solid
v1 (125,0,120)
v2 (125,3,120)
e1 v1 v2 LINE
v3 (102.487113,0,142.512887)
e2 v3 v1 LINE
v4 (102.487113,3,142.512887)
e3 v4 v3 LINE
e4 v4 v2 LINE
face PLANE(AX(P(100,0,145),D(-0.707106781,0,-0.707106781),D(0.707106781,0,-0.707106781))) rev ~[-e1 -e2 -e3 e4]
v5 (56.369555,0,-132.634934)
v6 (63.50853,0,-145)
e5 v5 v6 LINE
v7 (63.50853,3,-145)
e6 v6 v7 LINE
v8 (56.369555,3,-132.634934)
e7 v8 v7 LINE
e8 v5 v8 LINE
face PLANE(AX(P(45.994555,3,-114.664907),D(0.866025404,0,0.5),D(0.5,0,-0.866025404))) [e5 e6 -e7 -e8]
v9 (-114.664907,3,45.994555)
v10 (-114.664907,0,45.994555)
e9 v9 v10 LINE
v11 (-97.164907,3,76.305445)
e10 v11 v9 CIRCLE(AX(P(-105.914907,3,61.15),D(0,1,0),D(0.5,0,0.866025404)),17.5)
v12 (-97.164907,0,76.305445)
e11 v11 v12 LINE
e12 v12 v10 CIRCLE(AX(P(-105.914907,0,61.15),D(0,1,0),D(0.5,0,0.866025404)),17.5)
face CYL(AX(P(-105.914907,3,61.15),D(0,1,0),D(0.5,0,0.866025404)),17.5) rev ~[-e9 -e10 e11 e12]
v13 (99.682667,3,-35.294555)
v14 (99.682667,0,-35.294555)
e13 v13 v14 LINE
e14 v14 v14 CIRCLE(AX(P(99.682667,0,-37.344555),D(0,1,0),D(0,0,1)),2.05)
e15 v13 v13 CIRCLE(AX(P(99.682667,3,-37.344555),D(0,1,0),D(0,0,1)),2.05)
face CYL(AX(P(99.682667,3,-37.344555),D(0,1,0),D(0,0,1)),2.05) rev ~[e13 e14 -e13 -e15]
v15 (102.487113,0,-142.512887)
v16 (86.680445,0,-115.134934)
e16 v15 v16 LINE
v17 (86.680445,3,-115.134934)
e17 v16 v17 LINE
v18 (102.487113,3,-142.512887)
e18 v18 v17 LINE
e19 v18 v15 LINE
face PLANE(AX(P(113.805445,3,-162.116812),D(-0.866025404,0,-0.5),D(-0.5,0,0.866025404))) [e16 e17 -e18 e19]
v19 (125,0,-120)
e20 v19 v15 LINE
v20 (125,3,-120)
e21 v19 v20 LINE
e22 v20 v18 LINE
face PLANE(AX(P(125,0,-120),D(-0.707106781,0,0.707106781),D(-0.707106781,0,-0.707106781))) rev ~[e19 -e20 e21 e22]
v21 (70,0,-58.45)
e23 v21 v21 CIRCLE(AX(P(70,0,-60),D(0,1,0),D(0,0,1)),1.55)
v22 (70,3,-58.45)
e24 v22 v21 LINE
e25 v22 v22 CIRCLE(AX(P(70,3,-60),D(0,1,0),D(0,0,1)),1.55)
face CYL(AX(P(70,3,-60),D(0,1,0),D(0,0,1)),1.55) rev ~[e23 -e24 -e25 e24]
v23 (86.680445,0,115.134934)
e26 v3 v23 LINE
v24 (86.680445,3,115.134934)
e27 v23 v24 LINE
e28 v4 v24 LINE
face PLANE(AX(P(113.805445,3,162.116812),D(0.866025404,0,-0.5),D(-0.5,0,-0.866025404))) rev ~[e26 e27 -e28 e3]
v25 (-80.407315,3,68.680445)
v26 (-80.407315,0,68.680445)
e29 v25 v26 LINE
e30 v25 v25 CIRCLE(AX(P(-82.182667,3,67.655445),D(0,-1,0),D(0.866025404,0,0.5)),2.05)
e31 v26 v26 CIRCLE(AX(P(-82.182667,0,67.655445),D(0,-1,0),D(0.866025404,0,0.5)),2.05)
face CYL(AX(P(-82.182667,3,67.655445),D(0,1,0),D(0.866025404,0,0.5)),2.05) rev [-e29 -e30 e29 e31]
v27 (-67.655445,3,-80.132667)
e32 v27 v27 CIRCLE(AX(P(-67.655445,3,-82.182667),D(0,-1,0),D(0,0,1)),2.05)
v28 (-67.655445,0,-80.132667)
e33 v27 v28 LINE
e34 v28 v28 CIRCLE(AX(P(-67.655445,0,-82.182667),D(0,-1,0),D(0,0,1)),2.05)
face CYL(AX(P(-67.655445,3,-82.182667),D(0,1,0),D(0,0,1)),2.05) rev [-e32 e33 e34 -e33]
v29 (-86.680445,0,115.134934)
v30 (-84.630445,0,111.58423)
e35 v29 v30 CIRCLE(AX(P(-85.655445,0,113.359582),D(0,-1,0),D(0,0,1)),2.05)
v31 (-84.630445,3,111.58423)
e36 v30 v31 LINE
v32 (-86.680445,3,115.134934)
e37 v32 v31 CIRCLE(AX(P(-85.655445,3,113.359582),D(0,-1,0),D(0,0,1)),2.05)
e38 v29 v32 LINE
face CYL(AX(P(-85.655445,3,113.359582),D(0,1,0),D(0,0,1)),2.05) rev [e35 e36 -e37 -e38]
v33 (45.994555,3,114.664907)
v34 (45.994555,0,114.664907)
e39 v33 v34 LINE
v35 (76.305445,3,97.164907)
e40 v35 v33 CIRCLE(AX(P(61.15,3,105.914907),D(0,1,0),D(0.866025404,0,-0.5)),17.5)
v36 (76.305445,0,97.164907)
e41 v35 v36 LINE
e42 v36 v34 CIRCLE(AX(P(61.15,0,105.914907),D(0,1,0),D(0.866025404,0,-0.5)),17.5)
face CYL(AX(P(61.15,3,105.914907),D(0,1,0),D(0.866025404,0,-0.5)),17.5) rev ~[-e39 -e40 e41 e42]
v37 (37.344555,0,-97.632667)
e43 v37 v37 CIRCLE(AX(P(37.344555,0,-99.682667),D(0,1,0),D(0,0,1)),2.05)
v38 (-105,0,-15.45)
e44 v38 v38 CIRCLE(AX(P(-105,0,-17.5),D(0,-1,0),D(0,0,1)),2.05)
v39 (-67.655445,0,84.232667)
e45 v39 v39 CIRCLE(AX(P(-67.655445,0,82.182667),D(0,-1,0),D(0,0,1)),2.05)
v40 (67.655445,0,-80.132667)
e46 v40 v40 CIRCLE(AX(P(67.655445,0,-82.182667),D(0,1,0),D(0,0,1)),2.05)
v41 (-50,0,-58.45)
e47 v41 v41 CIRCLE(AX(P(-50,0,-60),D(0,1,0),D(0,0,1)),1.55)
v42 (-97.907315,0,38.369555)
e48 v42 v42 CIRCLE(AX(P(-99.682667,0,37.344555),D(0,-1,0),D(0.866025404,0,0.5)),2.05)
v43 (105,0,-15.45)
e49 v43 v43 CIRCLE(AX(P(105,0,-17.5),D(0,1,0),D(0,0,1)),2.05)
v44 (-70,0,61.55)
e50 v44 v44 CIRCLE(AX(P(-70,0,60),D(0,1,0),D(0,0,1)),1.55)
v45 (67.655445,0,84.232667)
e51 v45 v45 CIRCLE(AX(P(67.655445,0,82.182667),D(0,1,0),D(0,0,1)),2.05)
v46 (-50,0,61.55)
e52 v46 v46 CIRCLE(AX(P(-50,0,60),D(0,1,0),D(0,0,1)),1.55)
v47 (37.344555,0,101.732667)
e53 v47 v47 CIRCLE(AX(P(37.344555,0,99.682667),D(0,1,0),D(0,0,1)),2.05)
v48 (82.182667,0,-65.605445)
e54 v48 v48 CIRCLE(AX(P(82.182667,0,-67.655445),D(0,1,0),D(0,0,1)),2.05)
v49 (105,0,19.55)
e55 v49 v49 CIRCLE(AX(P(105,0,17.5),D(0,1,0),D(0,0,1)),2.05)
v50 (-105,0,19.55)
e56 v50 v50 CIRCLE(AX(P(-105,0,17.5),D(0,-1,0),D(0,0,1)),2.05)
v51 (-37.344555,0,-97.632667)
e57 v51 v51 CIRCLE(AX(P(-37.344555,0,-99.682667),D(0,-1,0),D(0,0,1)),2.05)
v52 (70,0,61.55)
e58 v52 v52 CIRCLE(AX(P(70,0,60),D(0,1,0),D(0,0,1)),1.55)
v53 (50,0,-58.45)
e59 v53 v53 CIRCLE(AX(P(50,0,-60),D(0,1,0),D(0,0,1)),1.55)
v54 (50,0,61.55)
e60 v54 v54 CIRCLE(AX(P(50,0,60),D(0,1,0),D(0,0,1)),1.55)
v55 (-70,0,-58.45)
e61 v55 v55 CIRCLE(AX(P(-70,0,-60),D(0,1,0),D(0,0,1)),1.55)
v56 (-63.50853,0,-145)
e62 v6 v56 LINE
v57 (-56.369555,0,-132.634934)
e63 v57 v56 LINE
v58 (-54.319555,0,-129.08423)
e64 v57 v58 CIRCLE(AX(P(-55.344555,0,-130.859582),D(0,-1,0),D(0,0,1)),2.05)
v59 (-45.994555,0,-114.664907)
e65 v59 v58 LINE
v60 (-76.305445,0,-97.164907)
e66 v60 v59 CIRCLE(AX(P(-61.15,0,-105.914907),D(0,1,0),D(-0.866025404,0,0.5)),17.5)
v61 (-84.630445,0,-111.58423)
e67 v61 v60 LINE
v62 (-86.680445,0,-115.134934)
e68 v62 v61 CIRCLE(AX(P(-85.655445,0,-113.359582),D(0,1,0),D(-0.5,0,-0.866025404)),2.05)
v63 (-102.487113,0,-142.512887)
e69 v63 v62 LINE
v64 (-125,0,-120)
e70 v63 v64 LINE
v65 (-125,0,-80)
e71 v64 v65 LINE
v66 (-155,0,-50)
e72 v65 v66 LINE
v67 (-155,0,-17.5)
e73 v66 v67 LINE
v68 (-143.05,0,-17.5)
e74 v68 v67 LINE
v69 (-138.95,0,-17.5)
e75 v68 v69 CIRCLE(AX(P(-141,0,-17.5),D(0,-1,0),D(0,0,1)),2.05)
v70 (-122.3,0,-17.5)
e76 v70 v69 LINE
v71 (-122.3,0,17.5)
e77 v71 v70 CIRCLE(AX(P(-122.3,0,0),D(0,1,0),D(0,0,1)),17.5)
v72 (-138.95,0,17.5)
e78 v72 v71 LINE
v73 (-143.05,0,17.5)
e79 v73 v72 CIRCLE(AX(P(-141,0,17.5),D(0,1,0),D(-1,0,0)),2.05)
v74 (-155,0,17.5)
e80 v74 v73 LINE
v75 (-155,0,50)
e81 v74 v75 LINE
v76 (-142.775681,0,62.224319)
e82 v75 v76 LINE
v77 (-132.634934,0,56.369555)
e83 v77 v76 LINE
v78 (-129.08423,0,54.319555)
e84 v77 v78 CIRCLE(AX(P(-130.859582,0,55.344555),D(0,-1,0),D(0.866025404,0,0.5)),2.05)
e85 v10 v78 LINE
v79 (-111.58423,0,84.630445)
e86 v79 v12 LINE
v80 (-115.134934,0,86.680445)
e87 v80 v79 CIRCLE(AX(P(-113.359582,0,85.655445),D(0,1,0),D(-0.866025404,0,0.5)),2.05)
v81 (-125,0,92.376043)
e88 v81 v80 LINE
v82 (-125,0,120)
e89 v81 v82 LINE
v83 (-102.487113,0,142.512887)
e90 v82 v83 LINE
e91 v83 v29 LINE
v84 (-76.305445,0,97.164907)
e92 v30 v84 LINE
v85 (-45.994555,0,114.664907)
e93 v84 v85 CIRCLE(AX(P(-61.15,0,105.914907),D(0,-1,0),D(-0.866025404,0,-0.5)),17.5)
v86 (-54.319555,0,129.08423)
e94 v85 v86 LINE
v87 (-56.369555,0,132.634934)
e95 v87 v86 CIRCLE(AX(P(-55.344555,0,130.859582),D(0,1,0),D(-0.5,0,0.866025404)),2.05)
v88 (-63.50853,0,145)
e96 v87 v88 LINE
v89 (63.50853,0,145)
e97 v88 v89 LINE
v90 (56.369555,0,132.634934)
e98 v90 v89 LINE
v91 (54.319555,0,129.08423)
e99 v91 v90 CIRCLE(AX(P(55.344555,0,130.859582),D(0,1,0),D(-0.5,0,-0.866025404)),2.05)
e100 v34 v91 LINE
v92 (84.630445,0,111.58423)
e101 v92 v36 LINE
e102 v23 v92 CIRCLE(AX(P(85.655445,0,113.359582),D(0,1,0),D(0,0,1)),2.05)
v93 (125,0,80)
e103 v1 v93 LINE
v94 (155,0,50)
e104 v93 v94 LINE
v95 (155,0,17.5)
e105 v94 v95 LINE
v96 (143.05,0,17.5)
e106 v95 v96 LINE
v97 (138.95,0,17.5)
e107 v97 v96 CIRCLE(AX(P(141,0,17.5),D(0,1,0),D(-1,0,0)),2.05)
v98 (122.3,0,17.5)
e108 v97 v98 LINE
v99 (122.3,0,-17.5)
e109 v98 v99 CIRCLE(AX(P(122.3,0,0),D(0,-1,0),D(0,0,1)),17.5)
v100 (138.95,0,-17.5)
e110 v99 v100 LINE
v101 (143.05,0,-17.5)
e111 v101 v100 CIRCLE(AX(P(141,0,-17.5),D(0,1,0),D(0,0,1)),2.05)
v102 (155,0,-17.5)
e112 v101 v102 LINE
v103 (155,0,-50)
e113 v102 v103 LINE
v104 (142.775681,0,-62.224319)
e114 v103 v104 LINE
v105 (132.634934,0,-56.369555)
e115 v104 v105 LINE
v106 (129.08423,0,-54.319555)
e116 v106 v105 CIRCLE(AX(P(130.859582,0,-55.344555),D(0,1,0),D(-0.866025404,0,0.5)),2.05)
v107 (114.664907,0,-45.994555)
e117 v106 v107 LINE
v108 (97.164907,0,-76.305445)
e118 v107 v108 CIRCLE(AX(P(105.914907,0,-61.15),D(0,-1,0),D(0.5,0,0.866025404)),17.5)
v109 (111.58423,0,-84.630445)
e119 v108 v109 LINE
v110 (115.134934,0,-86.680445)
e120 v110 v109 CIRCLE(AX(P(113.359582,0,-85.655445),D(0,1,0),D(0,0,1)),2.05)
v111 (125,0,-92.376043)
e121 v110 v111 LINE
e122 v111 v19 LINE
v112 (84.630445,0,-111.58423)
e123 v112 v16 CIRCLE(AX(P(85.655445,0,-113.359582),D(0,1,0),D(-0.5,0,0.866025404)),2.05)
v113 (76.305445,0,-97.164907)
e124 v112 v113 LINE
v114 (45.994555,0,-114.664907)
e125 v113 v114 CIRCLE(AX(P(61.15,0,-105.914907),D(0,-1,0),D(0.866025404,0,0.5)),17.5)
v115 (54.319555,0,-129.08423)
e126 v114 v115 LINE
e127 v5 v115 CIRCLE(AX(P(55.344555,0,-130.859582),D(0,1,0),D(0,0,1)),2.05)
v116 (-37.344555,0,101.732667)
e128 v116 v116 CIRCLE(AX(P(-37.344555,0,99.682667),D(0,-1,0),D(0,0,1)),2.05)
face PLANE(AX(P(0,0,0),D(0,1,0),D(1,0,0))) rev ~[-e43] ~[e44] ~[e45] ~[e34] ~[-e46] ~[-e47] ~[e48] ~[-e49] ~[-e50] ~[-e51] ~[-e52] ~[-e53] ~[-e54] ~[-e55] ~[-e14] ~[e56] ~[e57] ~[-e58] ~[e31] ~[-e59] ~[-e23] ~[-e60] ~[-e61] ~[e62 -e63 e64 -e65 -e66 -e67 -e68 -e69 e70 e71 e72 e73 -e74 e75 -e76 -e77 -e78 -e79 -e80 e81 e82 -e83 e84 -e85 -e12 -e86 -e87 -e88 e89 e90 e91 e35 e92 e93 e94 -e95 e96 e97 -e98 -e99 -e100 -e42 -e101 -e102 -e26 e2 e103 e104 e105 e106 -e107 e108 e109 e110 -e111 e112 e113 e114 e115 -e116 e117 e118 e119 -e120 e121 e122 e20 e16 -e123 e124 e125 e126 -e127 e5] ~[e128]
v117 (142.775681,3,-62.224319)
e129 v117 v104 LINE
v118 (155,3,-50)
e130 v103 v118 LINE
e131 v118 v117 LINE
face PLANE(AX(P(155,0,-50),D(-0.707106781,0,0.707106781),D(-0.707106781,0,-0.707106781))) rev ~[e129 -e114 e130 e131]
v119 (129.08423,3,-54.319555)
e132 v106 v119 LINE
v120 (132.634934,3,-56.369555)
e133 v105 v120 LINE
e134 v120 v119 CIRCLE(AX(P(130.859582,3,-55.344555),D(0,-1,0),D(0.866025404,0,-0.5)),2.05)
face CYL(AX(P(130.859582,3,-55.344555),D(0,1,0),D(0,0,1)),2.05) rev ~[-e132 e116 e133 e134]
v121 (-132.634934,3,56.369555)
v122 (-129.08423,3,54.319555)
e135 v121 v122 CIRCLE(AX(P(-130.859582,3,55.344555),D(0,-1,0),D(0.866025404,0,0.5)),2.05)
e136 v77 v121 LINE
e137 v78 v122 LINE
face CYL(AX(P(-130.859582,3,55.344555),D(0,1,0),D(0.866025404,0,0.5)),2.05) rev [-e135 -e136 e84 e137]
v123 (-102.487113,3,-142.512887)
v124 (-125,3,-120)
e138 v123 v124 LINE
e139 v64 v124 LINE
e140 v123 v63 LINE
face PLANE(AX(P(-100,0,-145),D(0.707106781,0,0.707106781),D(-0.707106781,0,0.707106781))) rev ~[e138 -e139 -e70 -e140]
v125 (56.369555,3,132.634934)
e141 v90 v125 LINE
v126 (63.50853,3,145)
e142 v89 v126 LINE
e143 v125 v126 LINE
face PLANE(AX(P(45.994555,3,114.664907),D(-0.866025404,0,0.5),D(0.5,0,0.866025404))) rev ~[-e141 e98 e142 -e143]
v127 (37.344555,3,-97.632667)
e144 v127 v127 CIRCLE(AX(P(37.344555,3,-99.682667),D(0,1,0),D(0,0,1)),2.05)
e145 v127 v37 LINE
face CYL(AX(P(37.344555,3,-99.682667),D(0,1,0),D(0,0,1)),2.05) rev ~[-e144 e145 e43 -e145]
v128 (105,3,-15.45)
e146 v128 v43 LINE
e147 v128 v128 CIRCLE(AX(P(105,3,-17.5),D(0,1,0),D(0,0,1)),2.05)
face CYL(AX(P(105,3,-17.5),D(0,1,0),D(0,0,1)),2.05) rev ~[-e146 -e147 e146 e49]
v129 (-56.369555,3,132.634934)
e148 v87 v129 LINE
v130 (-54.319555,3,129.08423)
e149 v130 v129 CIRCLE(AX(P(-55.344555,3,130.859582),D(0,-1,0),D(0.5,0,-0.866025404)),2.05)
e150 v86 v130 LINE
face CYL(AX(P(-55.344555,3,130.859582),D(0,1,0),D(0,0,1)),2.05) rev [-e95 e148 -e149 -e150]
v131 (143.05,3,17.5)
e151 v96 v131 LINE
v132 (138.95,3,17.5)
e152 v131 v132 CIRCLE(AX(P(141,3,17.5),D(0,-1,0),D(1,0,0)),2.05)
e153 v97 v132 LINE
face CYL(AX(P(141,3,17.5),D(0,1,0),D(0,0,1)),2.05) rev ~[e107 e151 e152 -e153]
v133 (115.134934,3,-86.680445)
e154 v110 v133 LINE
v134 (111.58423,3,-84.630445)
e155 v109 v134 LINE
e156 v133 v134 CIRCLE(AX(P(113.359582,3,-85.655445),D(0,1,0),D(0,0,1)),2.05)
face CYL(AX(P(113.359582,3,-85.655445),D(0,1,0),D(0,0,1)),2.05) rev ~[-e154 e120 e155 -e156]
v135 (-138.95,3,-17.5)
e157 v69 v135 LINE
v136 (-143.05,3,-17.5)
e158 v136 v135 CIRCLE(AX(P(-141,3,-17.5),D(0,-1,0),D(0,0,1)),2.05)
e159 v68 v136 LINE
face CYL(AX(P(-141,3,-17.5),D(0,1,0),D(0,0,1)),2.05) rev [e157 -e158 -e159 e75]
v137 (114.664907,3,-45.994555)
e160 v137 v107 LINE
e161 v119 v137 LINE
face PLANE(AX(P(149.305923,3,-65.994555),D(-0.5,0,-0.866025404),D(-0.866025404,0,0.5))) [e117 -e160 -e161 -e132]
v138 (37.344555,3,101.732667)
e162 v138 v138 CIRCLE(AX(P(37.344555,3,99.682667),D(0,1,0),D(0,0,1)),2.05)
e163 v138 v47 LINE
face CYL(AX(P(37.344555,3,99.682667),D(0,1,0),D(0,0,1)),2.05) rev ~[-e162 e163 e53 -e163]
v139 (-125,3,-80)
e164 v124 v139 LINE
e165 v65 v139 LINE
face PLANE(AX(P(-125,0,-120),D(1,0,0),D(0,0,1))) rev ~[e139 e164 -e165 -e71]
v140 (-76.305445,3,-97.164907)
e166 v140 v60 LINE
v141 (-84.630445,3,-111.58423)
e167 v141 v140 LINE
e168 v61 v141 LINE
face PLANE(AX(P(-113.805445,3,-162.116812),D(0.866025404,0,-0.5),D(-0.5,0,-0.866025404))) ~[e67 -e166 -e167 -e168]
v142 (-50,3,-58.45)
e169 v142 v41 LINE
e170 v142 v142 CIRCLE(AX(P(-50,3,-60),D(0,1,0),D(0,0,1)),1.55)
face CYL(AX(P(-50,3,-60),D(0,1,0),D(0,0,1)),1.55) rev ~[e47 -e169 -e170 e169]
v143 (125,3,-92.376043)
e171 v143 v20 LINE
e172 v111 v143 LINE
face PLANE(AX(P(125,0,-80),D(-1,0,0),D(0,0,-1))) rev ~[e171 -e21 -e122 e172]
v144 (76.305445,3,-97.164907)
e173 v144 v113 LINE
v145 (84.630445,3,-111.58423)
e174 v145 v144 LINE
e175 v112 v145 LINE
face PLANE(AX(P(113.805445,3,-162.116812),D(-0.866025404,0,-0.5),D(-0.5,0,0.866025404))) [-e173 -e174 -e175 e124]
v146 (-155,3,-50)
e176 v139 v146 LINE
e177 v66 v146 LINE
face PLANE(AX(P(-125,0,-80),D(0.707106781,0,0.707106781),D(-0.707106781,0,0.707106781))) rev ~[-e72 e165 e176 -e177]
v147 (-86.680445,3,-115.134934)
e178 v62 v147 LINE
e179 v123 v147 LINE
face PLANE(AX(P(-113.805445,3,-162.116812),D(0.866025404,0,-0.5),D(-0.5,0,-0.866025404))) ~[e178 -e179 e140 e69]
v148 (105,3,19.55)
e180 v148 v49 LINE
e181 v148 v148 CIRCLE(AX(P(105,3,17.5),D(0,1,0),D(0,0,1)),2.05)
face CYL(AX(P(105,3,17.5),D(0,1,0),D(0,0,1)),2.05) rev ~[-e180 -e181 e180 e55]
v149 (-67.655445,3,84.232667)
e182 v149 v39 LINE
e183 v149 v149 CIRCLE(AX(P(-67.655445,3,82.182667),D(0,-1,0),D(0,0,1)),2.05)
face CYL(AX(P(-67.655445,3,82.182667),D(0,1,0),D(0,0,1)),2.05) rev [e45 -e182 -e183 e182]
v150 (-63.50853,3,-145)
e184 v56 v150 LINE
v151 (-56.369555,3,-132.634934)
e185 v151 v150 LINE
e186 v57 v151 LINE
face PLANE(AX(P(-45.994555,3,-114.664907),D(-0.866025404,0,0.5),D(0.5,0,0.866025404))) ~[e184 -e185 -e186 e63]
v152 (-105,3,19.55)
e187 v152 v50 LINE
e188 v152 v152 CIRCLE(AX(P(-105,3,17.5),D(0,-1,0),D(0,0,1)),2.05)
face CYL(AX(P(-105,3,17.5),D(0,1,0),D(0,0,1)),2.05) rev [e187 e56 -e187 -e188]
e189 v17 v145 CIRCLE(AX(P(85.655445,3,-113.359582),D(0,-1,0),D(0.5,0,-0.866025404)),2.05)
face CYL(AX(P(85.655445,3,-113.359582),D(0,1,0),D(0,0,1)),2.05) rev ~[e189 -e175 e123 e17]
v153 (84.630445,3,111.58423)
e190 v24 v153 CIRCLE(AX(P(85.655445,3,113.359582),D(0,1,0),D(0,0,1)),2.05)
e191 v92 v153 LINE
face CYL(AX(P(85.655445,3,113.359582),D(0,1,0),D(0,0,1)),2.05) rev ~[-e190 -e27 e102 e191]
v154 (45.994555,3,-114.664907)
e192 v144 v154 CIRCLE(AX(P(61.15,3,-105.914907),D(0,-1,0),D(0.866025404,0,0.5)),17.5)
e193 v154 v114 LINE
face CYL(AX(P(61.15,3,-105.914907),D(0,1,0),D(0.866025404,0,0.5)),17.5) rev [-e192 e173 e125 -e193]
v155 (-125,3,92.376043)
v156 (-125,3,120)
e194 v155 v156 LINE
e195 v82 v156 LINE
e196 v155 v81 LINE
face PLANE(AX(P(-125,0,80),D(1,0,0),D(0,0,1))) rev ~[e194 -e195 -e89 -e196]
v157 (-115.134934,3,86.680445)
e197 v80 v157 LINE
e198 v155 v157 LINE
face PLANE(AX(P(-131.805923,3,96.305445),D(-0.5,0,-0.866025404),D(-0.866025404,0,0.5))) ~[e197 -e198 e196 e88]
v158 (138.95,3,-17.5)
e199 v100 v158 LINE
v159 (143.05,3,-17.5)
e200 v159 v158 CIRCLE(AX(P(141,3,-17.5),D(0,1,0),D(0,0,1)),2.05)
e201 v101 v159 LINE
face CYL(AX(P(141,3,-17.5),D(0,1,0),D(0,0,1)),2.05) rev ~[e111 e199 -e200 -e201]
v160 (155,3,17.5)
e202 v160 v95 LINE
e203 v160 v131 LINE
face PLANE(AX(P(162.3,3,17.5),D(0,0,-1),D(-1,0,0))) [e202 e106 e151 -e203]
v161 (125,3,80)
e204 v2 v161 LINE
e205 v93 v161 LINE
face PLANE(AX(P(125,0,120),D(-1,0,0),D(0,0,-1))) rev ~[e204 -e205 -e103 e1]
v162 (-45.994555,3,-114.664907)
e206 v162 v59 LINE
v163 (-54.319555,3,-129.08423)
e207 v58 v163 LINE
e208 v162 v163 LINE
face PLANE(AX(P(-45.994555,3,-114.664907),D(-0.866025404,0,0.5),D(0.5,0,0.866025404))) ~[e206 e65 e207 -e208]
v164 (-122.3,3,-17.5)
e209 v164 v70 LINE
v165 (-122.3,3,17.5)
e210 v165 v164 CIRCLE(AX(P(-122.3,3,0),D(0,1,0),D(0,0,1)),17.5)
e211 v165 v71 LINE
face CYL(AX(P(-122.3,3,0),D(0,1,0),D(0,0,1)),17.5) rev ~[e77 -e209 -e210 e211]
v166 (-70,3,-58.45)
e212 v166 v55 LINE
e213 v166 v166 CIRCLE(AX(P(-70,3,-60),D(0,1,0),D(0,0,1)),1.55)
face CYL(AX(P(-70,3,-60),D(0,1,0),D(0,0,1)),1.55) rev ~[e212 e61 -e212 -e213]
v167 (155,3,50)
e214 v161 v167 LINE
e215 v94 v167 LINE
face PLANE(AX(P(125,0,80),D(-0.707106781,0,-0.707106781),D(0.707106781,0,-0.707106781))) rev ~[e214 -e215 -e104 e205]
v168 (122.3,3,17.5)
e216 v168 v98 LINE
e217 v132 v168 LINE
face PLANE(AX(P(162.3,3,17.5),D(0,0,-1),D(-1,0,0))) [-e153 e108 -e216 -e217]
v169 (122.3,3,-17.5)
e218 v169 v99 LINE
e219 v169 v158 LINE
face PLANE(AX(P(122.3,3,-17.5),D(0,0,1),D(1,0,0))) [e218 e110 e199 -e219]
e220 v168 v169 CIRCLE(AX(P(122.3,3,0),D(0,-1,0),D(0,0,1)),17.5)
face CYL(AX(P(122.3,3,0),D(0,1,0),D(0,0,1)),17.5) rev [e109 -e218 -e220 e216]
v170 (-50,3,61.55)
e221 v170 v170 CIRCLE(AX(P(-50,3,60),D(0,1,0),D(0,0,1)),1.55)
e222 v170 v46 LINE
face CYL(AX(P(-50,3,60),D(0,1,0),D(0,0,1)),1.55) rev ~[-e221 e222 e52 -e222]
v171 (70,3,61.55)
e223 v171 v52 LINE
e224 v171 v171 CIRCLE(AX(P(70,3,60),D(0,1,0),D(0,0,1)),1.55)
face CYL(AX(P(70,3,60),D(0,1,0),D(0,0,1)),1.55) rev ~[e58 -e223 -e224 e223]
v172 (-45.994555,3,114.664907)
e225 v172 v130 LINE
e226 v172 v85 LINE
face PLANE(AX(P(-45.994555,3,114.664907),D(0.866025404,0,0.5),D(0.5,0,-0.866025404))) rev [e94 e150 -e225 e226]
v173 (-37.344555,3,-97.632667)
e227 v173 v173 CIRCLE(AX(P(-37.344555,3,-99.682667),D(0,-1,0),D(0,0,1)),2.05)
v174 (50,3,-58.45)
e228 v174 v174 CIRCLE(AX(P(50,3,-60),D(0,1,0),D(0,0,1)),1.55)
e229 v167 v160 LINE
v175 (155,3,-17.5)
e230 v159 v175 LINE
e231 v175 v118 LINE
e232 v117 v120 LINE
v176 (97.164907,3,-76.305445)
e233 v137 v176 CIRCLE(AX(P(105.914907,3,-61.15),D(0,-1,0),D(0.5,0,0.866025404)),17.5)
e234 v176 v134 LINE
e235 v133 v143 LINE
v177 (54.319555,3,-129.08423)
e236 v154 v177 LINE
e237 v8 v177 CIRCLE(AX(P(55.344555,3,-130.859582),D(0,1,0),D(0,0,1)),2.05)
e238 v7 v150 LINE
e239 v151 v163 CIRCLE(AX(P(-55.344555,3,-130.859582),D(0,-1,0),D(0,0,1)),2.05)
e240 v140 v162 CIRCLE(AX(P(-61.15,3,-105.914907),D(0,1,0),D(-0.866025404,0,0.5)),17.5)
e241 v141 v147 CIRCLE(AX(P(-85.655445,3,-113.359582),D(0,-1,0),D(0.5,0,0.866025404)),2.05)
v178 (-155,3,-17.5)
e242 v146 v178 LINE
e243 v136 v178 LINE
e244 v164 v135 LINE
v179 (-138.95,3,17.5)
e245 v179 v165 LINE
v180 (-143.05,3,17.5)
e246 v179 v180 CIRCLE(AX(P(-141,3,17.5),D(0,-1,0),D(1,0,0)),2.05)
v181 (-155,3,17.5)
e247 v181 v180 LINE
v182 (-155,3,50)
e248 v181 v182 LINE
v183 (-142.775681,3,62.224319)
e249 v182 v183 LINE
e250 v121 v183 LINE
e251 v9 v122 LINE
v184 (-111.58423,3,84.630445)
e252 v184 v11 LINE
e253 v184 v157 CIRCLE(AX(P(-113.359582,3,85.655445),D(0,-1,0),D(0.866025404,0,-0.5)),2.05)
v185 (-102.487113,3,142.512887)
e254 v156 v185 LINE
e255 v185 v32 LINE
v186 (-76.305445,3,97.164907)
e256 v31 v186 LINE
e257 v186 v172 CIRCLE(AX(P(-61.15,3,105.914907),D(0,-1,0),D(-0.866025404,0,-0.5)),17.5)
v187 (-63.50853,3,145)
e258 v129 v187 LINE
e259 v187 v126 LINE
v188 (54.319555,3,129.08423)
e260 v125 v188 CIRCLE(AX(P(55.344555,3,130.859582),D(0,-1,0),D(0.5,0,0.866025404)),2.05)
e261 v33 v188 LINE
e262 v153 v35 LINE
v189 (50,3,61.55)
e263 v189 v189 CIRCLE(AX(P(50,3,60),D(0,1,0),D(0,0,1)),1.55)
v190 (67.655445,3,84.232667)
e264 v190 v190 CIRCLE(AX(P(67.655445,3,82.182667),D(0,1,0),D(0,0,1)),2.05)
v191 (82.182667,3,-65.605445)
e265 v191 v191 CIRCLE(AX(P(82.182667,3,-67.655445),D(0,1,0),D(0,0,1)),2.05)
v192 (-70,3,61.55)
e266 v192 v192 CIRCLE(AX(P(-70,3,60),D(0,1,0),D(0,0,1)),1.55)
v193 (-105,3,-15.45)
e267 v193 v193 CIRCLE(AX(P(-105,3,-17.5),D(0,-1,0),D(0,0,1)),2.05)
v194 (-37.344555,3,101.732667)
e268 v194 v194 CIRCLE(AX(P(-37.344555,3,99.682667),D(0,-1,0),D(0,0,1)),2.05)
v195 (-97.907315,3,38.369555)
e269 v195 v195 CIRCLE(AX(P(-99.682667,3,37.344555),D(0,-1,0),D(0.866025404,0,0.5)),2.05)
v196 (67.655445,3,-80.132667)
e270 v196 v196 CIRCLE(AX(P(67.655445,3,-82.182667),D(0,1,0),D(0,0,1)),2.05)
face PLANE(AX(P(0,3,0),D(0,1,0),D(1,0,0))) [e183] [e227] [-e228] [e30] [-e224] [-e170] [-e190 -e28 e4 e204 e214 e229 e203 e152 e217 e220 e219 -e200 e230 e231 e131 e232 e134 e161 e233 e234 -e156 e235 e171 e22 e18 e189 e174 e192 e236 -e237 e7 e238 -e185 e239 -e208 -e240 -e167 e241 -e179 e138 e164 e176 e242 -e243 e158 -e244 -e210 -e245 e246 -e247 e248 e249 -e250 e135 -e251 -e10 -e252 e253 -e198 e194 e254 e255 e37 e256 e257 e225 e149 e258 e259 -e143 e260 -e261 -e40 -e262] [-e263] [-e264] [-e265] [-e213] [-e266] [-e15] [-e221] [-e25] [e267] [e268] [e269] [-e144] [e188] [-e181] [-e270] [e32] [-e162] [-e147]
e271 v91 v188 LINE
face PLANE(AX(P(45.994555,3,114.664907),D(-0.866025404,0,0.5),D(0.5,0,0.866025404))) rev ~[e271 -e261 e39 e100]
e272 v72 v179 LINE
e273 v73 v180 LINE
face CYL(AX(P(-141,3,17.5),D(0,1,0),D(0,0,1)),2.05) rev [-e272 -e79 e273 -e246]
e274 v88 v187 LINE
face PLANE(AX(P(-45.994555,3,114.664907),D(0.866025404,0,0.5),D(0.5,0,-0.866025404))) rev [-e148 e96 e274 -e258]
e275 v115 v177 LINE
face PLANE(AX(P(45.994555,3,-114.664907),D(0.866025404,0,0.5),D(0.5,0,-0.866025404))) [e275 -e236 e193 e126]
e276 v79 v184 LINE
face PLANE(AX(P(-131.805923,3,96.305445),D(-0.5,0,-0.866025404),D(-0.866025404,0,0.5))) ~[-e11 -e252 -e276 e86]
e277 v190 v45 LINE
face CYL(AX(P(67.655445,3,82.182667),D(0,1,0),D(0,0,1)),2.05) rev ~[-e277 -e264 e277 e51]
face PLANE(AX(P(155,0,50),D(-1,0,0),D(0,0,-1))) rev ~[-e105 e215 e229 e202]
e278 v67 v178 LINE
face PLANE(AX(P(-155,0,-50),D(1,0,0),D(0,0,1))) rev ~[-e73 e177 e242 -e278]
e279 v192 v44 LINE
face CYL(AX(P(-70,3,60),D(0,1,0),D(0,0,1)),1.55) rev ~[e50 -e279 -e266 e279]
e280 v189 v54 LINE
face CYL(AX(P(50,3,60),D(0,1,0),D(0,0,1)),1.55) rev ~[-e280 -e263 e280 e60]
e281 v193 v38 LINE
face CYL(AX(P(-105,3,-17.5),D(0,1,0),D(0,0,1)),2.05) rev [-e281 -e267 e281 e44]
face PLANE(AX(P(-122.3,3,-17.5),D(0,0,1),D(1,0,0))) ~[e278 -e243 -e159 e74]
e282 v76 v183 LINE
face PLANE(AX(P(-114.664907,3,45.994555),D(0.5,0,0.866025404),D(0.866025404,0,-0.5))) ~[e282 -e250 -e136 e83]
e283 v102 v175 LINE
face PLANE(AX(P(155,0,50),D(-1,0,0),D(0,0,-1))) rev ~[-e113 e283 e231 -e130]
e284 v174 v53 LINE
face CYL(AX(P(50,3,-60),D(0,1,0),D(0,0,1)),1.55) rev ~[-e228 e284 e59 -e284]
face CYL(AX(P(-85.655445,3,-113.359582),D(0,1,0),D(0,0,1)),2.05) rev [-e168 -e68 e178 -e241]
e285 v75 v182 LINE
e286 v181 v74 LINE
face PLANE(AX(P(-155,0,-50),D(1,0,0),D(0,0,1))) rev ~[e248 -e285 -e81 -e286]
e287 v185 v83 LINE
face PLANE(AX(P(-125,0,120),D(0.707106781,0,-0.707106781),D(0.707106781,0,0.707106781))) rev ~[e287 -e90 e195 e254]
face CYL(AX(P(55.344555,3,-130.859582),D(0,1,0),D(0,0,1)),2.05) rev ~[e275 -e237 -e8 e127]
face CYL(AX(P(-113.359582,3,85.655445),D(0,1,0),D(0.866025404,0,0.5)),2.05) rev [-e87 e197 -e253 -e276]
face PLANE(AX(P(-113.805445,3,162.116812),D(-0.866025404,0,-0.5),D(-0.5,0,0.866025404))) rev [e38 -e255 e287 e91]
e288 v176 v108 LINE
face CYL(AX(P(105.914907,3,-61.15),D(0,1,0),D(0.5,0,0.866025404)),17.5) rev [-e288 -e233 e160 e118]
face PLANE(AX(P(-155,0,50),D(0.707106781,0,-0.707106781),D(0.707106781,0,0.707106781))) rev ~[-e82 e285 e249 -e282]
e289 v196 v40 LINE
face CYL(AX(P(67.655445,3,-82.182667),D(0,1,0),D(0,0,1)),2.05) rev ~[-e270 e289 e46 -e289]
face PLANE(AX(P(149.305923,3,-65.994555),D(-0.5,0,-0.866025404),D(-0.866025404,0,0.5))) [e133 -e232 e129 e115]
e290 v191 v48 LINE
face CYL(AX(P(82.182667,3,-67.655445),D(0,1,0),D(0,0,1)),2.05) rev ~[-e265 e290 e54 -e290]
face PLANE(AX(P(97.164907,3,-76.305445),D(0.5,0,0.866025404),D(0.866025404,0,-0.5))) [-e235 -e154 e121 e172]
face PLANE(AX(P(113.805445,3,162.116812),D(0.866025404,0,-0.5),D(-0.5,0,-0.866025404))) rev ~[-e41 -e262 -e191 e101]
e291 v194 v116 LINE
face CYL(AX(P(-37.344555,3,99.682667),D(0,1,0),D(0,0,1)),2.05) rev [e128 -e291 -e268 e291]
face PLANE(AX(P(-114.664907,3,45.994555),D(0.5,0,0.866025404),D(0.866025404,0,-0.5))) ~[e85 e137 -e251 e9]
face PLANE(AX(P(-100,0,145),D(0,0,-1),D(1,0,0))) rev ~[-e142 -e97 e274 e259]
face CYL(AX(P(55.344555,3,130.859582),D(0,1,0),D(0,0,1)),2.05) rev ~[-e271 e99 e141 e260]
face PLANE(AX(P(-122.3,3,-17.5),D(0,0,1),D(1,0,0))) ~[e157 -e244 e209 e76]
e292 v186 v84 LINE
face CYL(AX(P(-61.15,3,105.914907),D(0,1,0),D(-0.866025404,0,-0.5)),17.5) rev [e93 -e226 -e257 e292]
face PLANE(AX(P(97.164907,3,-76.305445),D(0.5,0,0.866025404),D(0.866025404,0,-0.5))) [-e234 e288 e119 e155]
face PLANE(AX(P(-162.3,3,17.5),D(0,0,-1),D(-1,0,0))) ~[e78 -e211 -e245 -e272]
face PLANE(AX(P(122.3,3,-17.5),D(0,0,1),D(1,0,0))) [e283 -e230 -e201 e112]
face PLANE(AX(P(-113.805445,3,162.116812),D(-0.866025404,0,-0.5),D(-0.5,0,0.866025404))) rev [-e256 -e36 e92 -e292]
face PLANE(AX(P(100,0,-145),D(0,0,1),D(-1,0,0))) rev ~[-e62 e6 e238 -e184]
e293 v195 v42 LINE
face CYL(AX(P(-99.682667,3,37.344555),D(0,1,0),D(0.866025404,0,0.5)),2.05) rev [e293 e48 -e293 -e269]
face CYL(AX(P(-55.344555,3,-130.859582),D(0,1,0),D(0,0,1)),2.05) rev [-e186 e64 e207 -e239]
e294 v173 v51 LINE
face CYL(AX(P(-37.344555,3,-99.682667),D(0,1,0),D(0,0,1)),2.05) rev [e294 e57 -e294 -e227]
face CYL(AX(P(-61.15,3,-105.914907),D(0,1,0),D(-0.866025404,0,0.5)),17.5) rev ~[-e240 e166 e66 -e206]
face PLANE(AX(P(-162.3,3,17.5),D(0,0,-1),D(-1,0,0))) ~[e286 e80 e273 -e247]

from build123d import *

# Parameters (mm, degrees)
BOSS_EXTRUDE1_DEPTH  = 3
SKETCH2_R            = 2.05
HEXCUT1_DEPTH        = 3
SKETCH5_R            = 1.55
CUT_EXTRUDE2_DEPTH   = 3
LPATTERN1_COUNT      = 2
LPATTERN1_PITCH      = 120
LPATTERN1_COUNT_DIR2 = 2
LPATTERN1_PITCH_DIR2 = 120
SKETCH6_R            = 2.05
QUADCUT1_DEPTH       = 3
CUT_EXTRUDE3_DEPTH   = 3
CUT_EXTRUDE4_DEPTH   = 3


with BuildPart() as part:
    # Sketch1 → Boss-Extrude1 (new body)
    with BuildSketch(Plane(origin=(0, 0, 0), x_dir=(1, 0, 0), z_dir=(0, 1, 0))):
        Polygon((-100, 145), (-125, 120), (-125, 80), (-155, 50), (-155, -50), (-125, -80), (-125, -120), (-100, -145), (100, -145), (125, -120), (125, -80), (155, -50), (155, 50), (125, 80), (125, 120), (100, 145), align=None)
    extrude(amount=BOSS_EXTRUDE1_DEPTH)

    # Sketch2 → HexCut1 (cut)
    with BuildSketch(Plane(origin=(0, 3, 0), x_dir=(1, 0, 0), z_dir=(0, 1, 0))):
        with Locations(Location((55.344555434, 130.859581934, 0), (0, 0, 270))):
            Circle(SKETCH2_R)
        with Locations(Location((37.344555434, 99.682667397, 0), (0, 0, 270))):
            Circle(SKETCH2_R)
        with Locations(Location((37.344555434, -99.682667397, 0), (0, 0, 270))):
            Circle(SKETCH2_R)
        with Locations(Location((55.344555434, -130.859581934, 0), (0, 0, 270))):
            Circle(SKETCH2_R)
        with Locations(Location((105, 17.5, 0), (0, 0, 270))):
            Circle(SKETCH2_R)
        with Locations(Location((141, 17.5, 0), (0, 0, 270))):
            Circle(SKETCH2_R)
        with Locations(Location((105, -17.5, 0), (0, 0, 270))):
            Circle(SKETCH2_R)
        with Locations(Location((141, -17.5, 0), (0, 0, 270))):
            Circle(SKETCH2_R)
        with Locations(Location((85.655444566, -113.359581934, 0), (0, 0, 270))):
            Circle(SKETCH2_R)
        with Locations(Location((67.655444566, -82.182667397, 0), (0, 0, 270))):
            Circle(SKETCH2_R)
        with Locations(Location((85.655444566, 113.359581934, 0), (0, 0, 270))):
            Circle(SKETCH2_R)
        with Locations(Location((67.655444566, 82.182667397, 0), (0, 0, 270))):
            Circle(SKETCH2_R)
    hexcut1 = extrude(amount=-HEXCUT1_DEPTH, mode=Mode.SUBTRACT)

    # HexCut2: HexCut1 across plane
    add(hexcut1.mirror(Plane(origin=(0, 0, 0), x_dir=(0, 0, 1), z_dir=(1, 0, 0))), mode=Mode.SUBTRACT)

    # Sketch5 → Cut-Extrude2 (cut)
    with BuildSketch(Plane(origin=(0, 3, 0), x_dir=(1, 0, 0), z_dir=(0, 1, 0))):
        with Locations(Location((50, 60, 0), (0, 0, 270))):
            Circle(SKETCH5_R)
        with Locations(Location((70, 60, 0), (0, 0, 270))):
            Circle(SKETCH5_R)
    cut_extrude2 = extrude(amount=-CUT_EXTRUDE2_DEPTH, mode=Mode.SUBTRACT)

    # LPattern1: Cut-Extrude2 2 × 2
    with Locations(*[(-j * LPATTERN1_PITCH_DIR2, 0, i * LPATTERN1_PITCH) for i in range(LPATTERN1_COUNT) for j in range(LPATTERN1_COUNT_DIR2) if (i, j) != (0, 0)]):
        add(cut_extrude2, mode=Mode.SUBTRACT)

    # Sketch6 → QuadCut1 (cut)
    with BuildSketch(Plane(origin=(0, 3, 0), x_dir=(1, 0, 0), z_dir=(0, 1, 0))):
        with Locations(Location((99.682667397, 37.344555434, 0), (0, 0, 270))):
            Circle(SKETCH6_R)
        with Locations(Location((130.859581934, 55.344555434, 0), (0, 0, 270))):
            Circle(SKETCH6_R)
        with Locations(Location((113.359581934, 85.655444566, 0), (0, 0, 270))):
            Circle(SKETCH6_R)
        with Locations(Location((82.182667397, 67.655444566, 0), (0, 0, 270))):
            Circle(SKETCH6_R)
    quadcut1 = extrude(amount=-QUADCUT1_DEPTH, mode=Mode.SUBTRACT)

    # Mirror1: QuadCut1 across plane
    add(quadcut1.mirror(Plane(origin=(0, 0, 0), x_dir=(0.5000000000000011, 0, 0.8660254037844378), z_dir=(0.8660254037844379, 0, -0.5000000000000012))), mode=Mode.SUBTRACT)

    # Sketch7 → Cut-Extrude3 (cut)
    with BuildSketch(Plane(origin=(0, 3, 0), x_dir=(1, 0, 0), z_dir=(0, 1, 0))):
        with BuildLine():
            Line((45.994555434, 114.664906883), (83.494555434, 179.616812167))
            Line((83.494555434, 179.616812167), (113.805444566, 162.116812167))
            Line((113.805444566, 162.116812167), (76.305444566, 97.164906883))
            ThreePointArc((76.305444566, 97.164906883), (52.4, 90.759462317), (45.994555434, 114.664906883))
        make_face()
        with BuildLine():
            Line((45.994555434, -114.664906883), (83.494555434, -179.616812167))
            Line((83.494555434, -179.616812167), (113.805444566, -162.116812167))
            Line((113.805444566, -162.116812167), (76.305444566, -97.164906883))
            ThreePointArc((76.305444566, -97.164906883), (52.4, -90.759462317), (45.994555434, -114.664906883))
        make_face()
        with BuildLine():
            Line((122.3, 17.5), (162.3, 17.5))
            Line((162.3, 17.5), (162.3, -17.5))
            Line((162.3, -17.5), (122.3, -17.5))
            ThreePointArc((122.3, -17.5), (104.8, 0), (122.3, 17.5))
        make_face()
    cut_extrude3 = extrude(amount=-CUT_EXTRUDE3_DEPTH, mode=Mode.SUBTRACT)

    # Mirror2: Cut-Extrude3 across plane
    add(cut_extrude3.mirror(Plane(origin=(0, 0, 0), x_dir=(0, 0, 1), z_dir=(1, 0, 0))), mode=Mode.SUBTRACT)

    # Sketch8 → Cut-Extrude4 (cut)
    with BuildSketch(Plane(origin=(0, 3, 0), x_dir=(1, 0, 0), z_dir=(0, 1, 0))):
        with BuildLine():
            Line((97.164906883, 76.305444566), (131.805923034, 96.305444566))
            Line((131.805923034, 96.305444566), (149.305923034, 65.994555434))
            Line((149.305923034, 65.994555434), (114.664906883, 45.994555434))
            ThreePointArc((114.664906883, 45.994555434), (90.759462317, 52.4), (97.164906883, 76.305444566))
        make_face()
    cut_extrude4 = extrude(amount=-CUT_EXTRUDE4_DEPTH, mode=Mode.SUBTRACT)

    # Mirror3: Cut-Extrude4 across plane
    add(cut_extrude4.mirror(Plane(origin=(0, 0, 0), x_dir=(0.5000000000000011, 0, 0.8660254037844378), z_dir=(0.8660254037844379, 0, -0.5000000000000012))), mode=Mode.SUBTRACT)


solid = part.part
